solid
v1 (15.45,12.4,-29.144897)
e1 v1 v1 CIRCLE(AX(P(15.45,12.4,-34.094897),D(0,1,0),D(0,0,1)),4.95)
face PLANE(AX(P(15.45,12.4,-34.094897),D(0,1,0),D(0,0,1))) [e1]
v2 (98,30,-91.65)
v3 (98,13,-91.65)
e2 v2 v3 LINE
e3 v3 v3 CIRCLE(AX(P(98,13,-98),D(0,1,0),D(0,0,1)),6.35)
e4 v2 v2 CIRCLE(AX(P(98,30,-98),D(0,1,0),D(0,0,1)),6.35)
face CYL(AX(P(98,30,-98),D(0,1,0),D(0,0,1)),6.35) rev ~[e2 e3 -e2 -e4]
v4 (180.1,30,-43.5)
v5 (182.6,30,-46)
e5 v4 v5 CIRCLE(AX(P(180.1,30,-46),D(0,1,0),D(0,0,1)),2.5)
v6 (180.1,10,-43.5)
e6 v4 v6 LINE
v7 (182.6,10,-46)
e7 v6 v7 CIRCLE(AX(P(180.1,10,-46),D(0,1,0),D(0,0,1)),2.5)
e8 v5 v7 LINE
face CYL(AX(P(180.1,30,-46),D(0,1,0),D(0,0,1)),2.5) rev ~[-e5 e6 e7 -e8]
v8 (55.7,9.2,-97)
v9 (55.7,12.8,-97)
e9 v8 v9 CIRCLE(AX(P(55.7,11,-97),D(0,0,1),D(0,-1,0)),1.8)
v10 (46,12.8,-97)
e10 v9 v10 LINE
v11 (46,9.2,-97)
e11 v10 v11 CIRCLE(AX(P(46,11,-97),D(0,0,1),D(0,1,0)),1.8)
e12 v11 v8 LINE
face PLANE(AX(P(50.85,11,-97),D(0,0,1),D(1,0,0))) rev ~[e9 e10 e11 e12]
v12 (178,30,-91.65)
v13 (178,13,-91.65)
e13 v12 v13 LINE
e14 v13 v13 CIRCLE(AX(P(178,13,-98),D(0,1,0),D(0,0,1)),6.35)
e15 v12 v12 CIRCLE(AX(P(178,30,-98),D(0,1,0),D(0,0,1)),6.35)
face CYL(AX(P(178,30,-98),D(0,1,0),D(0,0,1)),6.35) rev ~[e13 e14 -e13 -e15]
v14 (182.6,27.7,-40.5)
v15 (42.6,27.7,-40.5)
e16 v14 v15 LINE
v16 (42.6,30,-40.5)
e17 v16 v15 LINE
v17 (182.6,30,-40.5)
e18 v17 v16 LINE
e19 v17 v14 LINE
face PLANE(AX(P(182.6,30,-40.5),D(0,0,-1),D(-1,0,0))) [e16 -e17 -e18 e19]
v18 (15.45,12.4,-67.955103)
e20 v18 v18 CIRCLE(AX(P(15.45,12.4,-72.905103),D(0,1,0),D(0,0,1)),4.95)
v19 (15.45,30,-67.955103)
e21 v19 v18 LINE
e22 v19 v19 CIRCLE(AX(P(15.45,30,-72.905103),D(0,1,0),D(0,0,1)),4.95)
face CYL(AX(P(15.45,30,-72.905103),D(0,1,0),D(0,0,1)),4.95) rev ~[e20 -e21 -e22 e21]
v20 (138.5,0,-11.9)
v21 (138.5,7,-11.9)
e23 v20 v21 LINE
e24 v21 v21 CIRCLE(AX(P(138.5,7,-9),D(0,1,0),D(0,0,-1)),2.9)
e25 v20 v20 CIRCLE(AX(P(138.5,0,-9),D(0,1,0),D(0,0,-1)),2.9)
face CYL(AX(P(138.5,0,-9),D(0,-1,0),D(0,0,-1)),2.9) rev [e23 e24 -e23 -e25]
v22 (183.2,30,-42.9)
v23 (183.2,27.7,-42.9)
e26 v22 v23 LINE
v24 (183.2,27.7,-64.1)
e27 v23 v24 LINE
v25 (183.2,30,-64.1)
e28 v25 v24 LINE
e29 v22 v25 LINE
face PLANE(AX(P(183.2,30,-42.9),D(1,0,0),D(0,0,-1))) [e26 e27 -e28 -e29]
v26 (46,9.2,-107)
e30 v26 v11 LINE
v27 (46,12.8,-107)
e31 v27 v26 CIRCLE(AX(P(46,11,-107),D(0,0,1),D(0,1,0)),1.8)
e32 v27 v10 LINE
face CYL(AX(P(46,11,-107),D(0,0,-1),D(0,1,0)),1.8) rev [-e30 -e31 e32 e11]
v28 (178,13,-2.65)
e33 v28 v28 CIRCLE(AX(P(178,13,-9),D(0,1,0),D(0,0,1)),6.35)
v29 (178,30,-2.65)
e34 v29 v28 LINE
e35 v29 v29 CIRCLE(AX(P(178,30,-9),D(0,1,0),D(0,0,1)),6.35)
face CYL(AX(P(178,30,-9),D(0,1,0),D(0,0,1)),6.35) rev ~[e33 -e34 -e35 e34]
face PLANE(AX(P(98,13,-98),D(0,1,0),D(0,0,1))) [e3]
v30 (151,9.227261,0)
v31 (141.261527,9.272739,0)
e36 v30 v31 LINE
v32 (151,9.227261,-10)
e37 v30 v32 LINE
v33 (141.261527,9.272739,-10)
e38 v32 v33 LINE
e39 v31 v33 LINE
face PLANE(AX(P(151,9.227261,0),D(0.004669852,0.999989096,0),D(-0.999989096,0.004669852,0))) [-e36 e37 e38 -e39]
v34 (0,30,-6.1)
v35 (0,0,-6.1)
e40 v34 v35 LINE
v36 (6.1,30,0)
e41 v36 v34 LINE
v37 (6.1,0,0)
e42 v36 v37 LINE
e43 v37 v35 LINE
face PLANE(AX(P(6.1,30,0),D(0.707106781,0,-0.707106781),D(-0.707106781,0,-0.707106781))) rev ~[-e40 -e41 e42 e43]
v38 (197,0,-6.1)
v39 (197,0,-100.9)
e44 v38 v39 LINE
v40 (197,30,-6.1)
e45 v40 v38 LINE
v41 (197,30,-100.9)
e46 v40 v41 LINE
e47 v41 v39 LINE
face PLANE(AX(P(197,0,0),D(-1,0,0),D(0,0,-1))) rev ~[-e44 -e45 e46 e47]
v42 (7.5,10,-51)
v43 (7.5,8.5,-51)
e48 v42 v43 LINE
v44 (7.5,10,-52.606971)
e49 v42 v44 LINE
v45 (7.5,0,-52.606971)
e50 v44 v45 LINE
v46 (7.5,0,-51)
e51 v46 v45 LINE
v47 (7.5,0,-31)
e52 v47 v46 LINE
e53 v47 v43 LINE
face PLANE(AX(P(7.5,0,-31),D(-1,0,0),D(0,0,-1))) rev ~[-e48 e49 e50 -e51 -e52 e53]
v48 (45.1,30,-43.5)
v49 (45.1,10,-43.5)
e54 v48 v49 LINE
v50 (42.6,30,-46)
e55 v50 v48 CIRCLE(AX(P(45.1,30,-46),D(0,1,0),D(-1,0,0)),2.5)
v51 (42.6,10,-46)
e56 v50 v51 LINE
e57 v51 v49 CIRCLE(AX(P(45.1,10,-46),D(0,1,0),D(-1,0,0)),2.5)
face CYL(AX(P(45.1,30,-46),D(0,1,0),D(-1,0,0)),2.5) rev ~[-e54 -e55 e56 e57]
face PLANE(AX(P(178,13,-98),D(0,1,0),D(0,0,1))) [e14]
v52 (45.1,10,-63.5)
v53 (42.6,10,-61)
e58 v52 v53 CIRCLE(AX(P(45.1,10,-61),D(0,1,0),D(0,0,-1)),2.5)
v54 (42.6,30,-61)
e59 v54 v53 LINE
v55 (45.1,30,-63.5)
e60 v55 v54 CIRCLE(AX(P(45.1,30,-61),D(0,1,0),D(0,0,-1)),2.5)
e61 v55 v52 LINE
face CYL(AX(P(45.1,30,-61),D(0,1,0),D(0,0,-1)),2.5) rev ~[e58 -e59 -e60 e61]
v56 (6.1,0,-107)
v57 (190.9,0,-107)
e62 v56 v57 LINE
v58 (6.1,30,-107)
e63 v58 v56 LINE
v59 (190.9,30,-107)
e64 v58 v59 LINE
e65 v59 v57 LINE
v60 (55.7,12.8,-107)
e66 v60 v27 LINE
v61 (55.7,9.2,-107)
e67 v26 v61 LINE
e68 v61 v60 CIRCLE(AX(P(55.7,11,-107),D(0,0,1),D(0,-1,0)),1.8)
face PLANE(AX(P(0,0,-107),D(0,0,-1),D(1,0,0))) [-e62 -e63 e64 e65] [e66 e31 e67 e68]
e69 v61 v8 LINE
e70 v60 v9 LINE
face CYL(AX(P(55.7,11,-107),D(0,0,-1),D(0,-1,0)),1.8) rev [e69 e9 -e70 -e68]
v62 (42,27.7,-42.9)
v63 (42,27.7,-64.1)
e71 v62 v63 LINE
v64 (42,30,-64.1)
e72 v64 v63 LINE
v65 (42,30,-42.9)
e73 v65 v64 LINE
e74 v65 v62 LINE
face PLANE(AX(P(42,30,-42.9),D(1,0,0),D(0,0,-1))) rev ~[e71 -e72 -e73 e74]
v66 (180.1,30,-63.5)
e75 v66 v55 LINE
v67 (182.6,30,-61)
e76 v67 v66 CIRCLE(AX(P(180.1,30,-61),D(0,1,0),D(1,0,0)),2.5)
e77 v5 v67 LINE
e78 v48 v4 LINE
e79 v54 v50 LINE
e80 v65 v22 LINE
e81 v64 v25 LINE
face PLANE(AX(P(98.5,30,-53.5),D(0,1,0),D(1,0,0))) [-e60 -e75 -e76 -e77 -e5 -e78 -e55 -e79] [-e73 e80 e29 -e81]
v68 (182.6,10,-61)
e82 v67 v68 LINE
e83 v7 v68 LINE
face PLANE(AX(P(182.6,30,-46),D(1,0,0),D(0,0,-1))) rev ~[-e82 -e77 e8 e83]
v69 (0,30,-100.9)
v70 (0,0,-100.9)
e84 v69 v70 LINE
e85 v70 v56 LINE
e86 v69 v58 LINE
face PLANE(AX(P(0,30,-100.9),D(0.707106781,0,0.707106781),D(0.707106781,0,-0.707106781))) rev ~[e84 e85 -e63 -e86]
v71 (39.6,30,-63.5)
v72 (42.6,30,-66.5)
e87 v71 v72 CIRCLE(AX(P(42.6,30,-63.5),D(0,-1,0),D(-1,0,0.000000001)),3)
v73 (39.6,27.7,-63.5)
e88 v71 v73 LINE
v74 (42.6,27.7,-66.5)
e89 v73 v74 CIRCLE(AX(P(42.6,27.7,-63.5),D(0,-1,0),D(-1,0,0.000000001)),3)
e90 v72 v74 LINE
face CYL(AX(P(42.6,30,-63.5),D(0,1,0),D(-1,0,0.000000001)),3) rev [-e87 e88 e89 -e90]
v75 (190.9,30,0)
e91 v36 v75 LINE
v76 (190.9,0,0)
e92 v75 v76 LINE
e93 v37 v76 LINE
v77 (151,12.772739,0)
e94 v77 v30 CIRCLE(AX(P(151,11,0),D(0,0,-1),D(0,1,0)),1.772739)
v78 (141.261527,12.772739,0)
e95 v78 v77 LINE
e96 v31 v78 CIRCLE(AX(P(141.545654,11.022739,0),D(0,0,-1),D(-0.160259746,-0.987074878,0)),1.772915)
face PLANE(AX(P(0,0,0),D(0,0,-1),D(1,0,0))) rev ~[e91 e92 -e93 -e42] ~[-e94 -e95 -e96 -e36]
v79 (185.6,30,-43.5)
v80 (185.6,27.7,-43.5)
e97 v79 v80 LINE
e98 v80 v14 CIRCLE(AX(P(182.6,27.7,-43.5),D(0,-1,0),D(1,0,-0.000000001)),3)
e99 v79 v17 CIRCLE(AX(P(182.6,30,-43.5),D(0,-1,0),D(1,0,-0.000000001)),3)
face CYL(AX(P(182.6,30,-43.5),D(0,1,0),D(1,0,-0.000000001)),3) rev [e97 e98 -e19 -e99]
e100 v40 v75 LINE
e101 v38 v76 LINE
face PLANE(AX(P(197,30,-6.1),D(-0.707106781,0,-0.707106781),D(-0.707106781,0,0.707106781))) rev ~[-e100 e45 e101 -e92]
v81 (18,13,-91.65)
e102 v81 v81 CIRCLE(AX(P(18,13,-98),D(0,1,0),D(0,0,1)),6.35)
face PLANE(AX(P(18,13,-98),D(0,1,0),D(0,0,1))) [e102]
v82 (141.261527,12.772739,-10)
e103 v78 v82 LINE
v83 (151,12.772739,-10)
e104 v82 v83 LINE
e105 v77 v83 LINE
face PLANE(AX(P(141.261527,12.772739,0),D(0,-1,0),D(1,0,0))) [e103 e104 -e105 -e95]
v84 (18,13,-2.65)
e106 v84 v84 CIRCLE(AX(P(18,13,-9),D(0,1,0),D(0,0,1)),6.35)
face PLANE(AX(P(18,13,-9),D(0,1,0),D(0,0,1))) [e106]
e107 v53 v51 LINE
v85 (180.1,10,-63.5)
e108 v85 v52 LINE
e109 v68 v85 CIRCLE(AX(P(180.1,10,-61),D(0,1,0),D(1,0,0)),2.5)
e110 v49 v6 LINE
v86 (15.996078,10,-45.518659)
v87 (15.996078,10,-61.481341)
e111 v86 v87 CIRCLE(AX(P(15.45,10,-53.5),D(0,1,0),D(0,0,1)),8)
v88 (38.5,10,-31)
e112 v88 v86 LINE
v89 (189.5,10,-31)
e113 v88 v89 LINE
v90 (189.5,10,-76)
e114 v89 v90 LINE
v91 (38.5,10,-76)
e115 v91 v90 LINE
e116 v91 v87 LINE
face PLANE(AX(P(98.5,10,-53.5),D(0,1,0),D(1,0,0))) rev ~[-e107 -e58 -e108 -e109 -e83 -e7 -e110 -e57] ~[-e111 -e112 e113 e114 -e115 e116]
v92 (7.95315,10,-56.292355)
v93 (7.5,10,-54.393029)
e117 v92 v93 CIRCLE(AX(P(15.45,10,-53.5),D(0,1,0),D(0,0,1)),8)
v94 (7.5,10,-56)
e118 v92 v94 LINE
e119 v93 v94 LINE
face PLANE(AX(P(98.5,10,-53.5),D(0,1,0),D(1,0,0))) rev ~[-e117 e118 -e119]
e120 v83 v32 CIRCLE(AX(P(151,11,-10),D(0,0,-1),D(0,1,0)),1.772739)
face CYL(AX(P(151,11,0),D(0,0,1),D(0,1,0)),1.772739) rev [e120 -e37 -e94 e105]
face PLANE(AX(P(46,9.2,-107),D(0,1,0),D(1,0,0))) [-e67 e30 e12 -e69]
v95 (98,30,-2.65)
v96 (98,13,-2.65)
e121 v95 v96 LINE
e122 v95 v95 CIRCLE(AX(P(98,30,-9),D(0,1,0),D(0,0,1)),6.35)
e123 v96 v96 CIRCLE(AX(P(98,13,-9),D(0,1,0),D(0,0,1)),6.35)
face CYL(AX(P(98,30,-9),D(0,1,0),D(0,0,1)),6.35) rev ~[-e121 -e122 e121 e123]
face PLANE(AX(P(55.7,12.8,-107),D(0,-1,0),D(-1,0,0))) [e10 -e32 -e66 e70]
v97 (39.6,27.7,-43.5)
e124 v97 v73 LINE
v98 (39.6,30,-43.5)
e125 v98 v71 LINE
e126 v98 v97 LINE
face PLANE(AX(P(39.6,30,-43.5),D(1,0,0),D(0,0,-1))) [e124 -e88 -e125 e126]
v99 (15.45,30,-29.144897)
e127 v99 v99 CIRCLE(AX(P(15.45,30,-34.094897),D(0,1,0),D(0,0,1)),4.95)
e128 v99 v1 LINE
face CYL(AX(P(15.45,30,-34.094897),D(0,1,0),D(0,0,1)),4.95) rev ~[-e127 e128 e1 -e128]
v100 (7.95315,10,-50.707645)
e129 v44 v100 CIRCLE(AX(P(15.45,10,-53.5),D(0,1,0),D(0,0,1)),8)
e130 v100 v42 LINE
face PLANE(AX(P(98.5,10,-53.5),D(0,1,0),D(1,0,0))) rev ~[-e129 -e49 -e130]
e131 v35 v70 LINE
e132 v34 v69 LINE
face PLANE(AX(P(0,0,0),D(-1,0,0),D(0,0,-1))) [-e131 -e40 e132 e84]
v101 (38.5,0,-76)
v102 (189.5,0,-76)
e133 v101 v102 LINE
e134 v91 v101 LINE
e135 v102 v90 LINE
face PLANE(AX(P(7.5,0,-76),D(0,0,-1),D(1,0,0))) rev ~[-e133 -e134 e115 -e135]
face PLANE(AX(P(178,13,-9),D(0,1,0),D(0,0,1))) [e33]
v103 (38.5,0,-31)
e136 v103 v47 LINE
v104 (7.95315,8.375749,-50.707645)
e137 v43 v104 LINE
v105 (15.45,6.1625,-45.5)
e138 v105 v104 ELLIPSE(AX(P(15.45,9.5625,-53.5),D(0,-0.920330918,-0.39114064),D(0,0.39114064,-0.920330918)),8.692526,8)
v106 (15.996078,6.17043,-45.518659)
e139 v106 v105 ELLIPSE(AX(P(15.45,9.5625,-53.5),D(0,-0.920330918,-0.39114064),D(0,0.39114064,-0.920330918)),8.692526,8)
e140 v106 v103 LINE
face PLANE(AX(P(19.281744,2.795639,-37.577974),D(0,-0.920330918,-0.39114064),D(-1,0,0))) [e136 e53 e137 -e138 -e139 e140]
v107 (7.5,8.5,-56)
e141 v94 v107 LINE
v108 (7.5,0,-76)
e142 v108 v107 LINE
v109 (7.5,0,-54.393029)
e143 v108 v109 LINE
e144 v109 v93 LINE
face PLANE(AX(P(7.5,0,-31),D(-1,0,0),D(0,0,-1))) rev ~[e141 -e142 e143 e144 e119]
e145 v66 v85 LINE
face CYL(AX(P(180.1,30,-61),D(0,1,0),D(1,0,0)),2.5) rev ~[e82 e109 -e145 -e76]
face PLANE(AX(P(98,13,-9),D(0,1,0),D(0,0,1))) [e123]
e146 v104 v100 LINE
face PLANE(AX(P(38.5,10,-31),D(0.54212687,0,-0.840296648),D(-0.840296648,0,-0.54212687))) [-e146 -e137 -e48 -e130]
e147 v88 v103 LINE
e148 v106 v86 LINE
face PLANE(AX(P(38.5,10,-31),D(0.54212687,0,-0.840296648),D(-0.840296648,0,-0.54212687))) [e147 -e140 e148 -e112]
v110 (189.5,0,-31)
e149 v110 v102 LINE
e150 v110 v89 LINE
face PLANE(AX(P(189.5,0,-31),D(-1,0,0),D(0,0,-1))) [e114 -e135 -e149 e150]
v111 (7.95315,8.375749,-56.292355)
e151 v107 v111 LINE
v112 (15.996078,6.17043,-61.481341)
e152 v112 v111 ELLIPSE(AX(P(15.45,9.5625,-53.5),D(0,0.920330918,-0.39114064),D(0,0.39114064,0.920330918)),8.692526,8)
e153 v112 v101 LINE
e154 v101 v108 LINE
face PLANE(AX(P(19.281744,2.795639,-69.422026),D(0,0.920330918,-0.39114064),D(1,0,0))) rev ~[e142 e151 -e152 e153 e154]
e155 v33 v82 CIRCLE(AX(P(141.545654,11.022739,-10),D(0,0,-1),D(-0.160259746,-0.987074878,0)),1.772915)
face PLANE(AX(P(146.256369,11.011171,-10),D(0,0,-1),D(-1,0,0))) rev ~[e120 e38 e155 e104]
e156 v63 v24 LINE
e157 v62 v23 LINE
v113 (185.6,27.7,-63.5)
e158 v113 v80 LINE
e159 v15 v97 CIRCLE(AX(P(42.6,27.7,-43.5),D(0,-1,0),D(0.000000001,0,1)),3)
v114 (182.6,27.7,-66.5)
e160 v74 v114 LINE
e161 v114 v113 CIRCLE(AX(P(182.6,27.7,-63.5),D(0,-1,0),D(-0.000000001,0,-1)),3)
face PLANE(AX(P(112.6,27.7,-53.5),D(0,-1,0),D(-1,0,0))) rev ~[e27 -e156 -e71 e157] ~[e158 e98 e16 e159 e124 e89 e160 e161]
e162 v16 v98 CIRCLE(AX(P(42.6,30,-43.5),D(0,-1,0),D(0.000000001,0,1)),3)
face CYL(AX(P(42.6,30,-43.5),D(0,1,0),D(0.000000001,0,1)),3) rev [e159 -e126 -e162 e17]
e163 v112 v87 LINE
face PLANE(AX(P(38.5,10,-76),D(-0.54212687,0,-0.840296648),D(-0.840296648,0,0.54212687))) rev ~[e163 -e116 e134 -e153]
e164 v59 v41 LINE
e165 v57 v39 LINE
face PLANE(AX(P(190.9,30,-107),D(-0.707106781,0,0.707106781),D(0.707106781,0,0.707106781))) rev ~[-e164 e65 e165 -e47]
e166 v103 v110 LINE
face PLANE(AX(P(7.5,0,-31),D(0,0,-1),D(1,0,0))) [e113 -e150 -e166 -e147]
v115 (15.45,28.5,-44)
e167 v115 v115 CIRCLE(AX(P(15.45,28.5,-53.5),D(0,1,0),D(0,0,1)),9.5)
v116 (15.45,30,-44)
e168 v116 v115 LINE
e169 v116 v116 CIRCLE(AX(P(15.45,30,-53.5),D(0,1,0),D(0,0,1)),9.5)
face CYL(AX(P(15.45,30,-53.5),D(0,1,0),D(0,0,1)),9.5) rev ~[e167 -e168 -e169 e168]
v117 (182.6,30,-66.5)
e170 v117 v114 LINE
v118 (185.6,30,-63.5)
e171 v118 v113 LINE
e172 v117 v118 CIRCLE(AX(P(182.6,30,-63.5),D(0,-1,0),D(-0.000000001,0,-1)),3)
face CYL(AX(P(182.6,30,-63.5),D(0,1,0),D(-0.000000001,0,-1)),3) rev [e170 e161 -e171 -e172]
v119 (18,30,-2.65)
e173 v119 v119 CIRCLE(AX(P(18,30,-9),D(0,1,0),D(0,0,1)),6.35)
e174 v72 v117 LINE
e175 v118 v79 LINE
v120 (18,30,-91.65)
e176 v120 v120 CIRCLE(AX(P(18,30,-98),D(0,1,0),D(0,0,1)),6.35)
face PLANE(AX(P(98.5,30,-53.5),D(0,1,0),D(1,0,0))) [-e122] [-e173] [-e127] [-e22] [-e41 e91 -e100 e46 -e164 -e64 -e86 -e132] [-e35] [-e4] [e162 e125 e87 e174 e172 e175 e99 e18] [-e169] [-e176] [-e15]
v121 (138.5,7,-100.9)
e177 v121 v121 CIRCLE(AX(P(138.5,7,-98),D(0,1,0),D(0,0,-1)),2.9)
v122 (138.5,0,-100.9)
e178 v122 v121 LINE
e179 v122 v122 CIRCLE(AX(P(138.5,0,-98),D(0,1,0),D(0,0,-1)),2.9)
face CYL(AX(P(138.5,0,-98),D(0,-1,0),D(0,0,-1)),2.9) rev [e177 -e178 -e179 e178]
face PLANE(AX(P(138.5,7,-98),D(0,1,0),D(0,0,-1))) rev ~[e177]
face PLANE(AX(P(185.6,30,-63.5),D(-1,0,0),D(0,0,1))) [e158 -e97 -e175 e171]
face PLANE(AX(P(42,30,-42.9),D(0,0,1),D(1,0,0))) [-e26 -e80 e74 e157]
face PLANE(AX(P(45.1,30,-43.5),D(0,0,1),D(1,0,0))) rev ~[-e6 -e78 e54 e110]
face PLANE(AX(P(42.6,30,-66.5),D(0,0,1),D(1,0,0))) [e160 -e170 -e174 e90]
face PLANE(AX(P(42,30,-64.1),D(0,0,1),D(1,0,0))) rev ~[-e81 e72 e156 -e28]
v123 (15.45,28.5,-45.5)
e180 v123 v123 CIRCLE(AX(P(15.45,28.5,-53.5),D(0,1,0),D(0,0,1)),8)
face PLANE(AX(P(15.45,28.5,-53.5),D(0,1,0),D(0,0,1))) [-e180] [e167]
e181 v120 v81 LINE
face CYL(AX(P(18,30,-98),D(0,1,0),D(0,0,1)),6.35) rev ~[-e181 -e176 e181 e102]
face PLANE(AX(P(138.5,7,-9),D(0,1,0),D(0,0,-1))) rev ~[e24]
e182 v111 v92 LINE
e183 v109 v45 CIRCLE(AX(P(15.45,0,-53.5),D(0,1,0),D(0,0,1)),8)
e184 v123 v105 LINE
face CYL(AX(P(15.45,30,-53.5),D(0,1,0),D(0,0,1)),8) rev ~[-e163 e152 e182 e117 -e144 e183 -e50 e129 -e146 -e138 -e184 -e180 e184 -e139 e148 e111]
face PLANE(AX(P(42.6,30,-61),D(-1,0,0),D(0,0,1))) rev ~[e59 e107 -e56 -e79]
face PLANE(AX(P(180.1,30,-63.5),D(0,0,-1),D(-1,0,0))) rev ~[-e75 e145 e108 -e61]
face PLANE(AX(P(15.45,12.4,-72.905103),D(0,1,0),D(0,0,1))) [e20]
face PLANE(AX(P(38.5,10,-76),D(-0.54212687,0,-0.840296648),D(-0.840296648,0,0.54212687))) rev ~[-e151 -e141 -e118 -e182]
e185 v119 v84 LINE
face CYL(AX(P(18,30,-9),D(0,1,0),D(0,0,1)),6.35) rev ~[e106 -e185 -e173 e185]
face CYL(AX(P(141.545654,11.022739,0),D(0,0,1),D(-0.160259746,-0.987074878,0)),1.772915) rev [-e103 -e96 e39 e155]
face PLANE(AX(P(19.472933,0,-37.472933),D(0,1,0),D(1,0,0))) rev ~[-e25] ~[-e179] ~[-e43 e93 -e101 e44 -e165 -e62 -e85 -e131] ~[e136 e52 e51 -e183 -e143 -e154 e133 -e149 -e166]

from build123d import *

# Parameters (mm, degrees)
SKETCH1_W            = 197
SKETCH1_H            = 107
BOSS_EXTRUDE1_DEPTH  = 30
SKETCH4_W            = 182
SKETCH4_H            = 45
CUT_EXTRUDE2_DEPTH   = 10
BOSS_EXTRUDE11_DEPTH = 10
CUT_EXTRUDE28_DEPTH  = 14.5
SKETCH9_R            = 8
CUT_EXTRUDE6_DEPTH   = 171
SKETCH10_R           = 9.5
CUT_EXTRUDE7_DEPTH   = 1.5
SKETCH11_R           = 4.95
CUT_EXTRUDE8_DEPTH   = 17.6
SKETCH41_R           = 2.9
CUT_EXTRUDE21_DEPTH  = 7
CUT_EXTRUDE22_DEPTH  = 10
CUT_EXTRUDE23_DEPTH  = 10
CUT_EXTRUDE29_DEPTH  = 14.5
CUT_EXTRUDE36_DEPTH  = 55.4
SKETCH90_R           = 6.35
CUT_EXTRUDE38_DEPTH  = 17
SKETCH91_W           = 141.2
SKETCH91_H           = 21.2
CUT_EXTRUDE39_DEPTH  = 2.3
CUT_EXTRUDE40_DEPTH  = 227.181343174


with BuildPart() as part:
    # Sketch1 → Boss-Extrude1 (new body)
    with BuildSketch(Plane(origin=(0, 0, 0), x_dir=(1, 0, 0), z_dir=(0, 1, 0))):
        with Locations((98.5, 53.5)):
            Rectangle(SKETCH1_W, SKETCH1_H)
    extrude(amount=BOSS_EXTRUDE1_DEPTH)

    # Sketch4 → Cut-Extrude2 (cut)
    with BuildSketch(Plane(origin=(0, 0, 0), x_dir=(1, 0, 0), z_dir=(0, 1, 0))):
        with Locations((98.5, 53.5)):
            Rectangle(SKETCH4_W, SKETCH4_H)
    extrude(amount=CUT_EXTRUDE2_DEPTH, mode=Mode.SUBTRACT)

    # Sketch53 → Boss-Extrude11 (add)
    with BuildSketch(Plane(origin=(0, 10, 0), x_dir=(-1, 0, 0), z_dir=(0, -1, 0))):
        Polygon((-7.5, 51), (-7.5, 31), (-38.5, 31), align=None)
        Polygon((-7.5, 56), (-7.5, 76), (-38.5, 76), align=None)
    extrude(amount=BOSS_EXTRUDE11_DEPTH)

    # Izq → Cut-Extrude28 (cut)
    with BuildSketch(Plane(origin=(0, 27.358390683, -11.62731604), x_dir=(1, 0, 0), z_dir=(0, 0.9203309184584746, -0.3911406403448515))):
        Polygon((7.5, 48.213835991), (38.5, 69.945149803), (7.5, 69.945149803), align=None)
    extrude(amount=-CUT_EXTRUDE28_DEPTH, mode=Mode.SUBTRACT)

    # Sketch9 → Cut-Extrude6 (cut)
    with BuildSketch(Plane(origin=(0, 30, 0), x_dir=(1, 0, 0), z_dir=(0, 1, 0))):
        with Locations(Location((15.45, 53.5, 0), (0, 0, 270))):
            Circle(SKETCH9_R)
    extrude(amount=-CUT_EXTRUDE6_DEPTH, mode=Mode.SUBTRACT)

    # Sketch10 → Cut-Extrude7 (cut)
    with BuildSketch(Plane(origin=(0, 30, 0), x_dir=(1, 0, 0), z_dir=(0, 1, 0))):
        with Locations(Location((15.45, 53.5, 0), (0, 0, 270))):
            Circle(SKETCH10_R)
    extrude(amount=-CUT_EXTRUDE7_DEPTH, mode=Mode.SUBTRACT)

    # Sketch11 → Cut-Extrude8 (cut)
    with BuildSketch(Plane(origin=(0, 30, 0), x_dir=(1, 0, 0), z_dir=(0, 1, 0))):
        with Locations(Location((15.45, 72.905102572, 0), (0, 0, 270))):
            Circle(SKETCH11_R)
        with Locations(Location((15.45, 34.094897428, 0), (0, 0, 270))):
            Circle(SKETCH11_R)
    extrude(amount=-CUT_EXTRUDE8_DEPTH, mode=Mode.SUBTRACT)

    # Sketch41 → Cut-Extrude21 (cut)
    with BuildSketch(Plane(origin=(0, 0, 0), x_dir=(1, 0, 0), z_dir=(0, 1, 0))):
        with Locations(Location((138.5, 9, 0), (0, 0, 90))):
            Circle(SKETCH41_R)
        with Locations(Location((138.5, 98, 0), (0, 0, 90))):
            Circle(SKETCH41_R)
    extrude(amount=CUT_EXTRUDE21_DEPTH, mode=Mode.SUBTRACT)

    # Sketch42 → Cut-Extrude22 (cut)
    with BuildSketch(Plane.XY):
        with BuildLine():
            Line((141.261527075, 12.77273886), (151, 12.77273886))
            ThreePointArc((151, 12.77273886), (152.77273886, 11), (151, 9.22726114))
            Line((151, 9.22726114), (141.261527075, 9.27273886))
            ThreePointArc((141.261527075, 9.27273886), (139.77273886, 11.02273886), (141.261527075, 12.77273886))
        make_face()
    extrude(amount=-CUT_EXTRUDE22_DEPTH, mode=Mode.SUBTRACT)

    # Sketch43 → Cut-Extrude23 (cut)
    with BuildSketch(Plane(origin=(0, 0, -107), x_dir=(-1, 0, 0), z_dir=(0, 0, -1))):
        with BuildLine():
            Line((-55.7, 12.8), (-46, 12.8))
            ThreePointArc((-46, 12.8), (-44.2, 11), (-46, 9.2))
            Line((-46, 9.2), (-55.7, 9.2))
            ThreePointArc((-55.7, 9.2), (-57.5, 11), (-55.7, 12.8))
        make_face()
    extrude(amount=-CUT_EXTRUDE23_DEPTH, mode=Mode.SUBTRACT)

    # Der → Cut-Extrude29 (cut)
    with BuildSketch(Plane(origin=(0, -11.159343568, -4.742721016), x_dir=(1, 0, 0), z_dir=(0, 0.9203309184584747, 0.3911406403448517))):
        Polygon((7.5, 50.261572284), (38.5, 28.530258472), (7.5, 28.530258472), align=None)
    extrude(amount=-CUT_EXTRUDE29_DEPTH, mode=Mode.SUBTRACT)

    # Sketch85 → Cut-Extrude36 (cut)
    with BuildSketch(Plane(origin=(0, 30, 0), x_dir=(1, 0, 0), z_dir=(0, 1, 0))):
        Polygon((0, 100.9), (6.1, 107), (0, 107), align=None)
        Polygon((0, 0), (6.1, 0), (0, 6.1), align=None)
        Polygon((197, 6.1), (190.9, 0), (197, 0), align=None)
        Polygon((197, 107), (190.9, 107), (197, 100.9), align=None)
    extrude(amount=-CUT_EXTRUDE36_DEPTH, mode=Mode.SUBTRACT)

    # Sketch90 → Cut-Extrude38 (cut)
    with BuildSketch(Plane(origin=(0, 30, 0), x_dir=(1, 0, 0), z_dir=(0, 1, 0))):
        with Locations(Location((18, 9, 0), (0, 0, 270))):
            Circle(SKETCH90_R)
        with Locations(Location((98, 9, 0), (0, 0, 270))):
            Circle(SKETCH90_R)
        with Locations(Location((178, 9, 0), (0, 0, 270))):
            Circle(SKETCH90_R)
        with Locations(Location((98, 98, 0), (0, 0, 270))):
            Circle(SKETCH90_R)
        with Locations(Location((178, 98, 0), (0, 0, 270))):
            Circle(SKETCH90_R)
        with Locations(Location((18, 98, 0), (0, 0, 270))):
            Circle(SKETCH90_R)
    extrude(amount=-CUT_EXTRUDE38_DEPTH, mode=Mode.SUBTRACT)

    # Sketch91 → Cut-Extrude39 (cut)
    with BuildSketch(Plane(origin=(0, 30, 0), x_dir=(1, 0, 0), z_dir=(0, 1, 0))):
        with BuildLine():
            Line((42.6, 66.5), (182.6, 66.5))
            ThreePointArc((182.6, 66.5), (184.721320344, 65.621320344), (185.6, 63.5))
            Line((185.6, 63.5), (185.6, 43.5))
            ThreePointArc((185.6, 43.5), (184.721320344, 41.378679656), (182.6, 40.5))
            Line((182.6, 40.5), (42.6, 40.5))
            ThreePointArc((42.6, 40.5), (40.478679656, 41.378679656), (39.6, 43.5))
            Line((39.6, 43.5), (39.6, 63.5))
            ThreePointArc((39.6, 63.5), (40.478679656, 65.621320344), (42.6, 66.5))
        make_face()
        with Locations((112.6, 53.5)):
            Rectangle(SKETCH91_W, SKETCH91_H, mode=Mode.SUBTRACT)
    extrude(amount=-CUT_EXTRUDE39_DEPTH, mode=Mode.SUBTRACT)

    # Sketch93 → Cut-Extrude40 (cut, through all)
    with BuildSketch(Plane(origin=(0, 30, 0), x_dir=(1, 0, 0), z_dir=(0, 1, 0))):
        with BuildLine():
            Line((45.1, 43.5), (180.1, 43.5))
            ThreePointArc((180.1, 43.5), (181.867766953, 44.232233047), (182.6, 46))
            Line((182.6, 46), (182.6, 61))
            ThreePointArc((182.6, 61), (181.867766953, 62.767766953), (180.1, 63.5))
            Line((180.1, 63.5), (45.1, 63.5))
            ThreePointArc((45.1, 63.5), (43.332233047, 62.767766953), (42.6, 61))
            Line((42.6, 61), (42.6, 46))
            ThreePointArc((42.6, 46), (43.332233047, 44.232233047), (45.1, 43.5))
        make_face()
    extrude(amount=-CUT_EXTRUDE40_DEPTH, mode=Mode.SUBTRACT)


solid = part.part
